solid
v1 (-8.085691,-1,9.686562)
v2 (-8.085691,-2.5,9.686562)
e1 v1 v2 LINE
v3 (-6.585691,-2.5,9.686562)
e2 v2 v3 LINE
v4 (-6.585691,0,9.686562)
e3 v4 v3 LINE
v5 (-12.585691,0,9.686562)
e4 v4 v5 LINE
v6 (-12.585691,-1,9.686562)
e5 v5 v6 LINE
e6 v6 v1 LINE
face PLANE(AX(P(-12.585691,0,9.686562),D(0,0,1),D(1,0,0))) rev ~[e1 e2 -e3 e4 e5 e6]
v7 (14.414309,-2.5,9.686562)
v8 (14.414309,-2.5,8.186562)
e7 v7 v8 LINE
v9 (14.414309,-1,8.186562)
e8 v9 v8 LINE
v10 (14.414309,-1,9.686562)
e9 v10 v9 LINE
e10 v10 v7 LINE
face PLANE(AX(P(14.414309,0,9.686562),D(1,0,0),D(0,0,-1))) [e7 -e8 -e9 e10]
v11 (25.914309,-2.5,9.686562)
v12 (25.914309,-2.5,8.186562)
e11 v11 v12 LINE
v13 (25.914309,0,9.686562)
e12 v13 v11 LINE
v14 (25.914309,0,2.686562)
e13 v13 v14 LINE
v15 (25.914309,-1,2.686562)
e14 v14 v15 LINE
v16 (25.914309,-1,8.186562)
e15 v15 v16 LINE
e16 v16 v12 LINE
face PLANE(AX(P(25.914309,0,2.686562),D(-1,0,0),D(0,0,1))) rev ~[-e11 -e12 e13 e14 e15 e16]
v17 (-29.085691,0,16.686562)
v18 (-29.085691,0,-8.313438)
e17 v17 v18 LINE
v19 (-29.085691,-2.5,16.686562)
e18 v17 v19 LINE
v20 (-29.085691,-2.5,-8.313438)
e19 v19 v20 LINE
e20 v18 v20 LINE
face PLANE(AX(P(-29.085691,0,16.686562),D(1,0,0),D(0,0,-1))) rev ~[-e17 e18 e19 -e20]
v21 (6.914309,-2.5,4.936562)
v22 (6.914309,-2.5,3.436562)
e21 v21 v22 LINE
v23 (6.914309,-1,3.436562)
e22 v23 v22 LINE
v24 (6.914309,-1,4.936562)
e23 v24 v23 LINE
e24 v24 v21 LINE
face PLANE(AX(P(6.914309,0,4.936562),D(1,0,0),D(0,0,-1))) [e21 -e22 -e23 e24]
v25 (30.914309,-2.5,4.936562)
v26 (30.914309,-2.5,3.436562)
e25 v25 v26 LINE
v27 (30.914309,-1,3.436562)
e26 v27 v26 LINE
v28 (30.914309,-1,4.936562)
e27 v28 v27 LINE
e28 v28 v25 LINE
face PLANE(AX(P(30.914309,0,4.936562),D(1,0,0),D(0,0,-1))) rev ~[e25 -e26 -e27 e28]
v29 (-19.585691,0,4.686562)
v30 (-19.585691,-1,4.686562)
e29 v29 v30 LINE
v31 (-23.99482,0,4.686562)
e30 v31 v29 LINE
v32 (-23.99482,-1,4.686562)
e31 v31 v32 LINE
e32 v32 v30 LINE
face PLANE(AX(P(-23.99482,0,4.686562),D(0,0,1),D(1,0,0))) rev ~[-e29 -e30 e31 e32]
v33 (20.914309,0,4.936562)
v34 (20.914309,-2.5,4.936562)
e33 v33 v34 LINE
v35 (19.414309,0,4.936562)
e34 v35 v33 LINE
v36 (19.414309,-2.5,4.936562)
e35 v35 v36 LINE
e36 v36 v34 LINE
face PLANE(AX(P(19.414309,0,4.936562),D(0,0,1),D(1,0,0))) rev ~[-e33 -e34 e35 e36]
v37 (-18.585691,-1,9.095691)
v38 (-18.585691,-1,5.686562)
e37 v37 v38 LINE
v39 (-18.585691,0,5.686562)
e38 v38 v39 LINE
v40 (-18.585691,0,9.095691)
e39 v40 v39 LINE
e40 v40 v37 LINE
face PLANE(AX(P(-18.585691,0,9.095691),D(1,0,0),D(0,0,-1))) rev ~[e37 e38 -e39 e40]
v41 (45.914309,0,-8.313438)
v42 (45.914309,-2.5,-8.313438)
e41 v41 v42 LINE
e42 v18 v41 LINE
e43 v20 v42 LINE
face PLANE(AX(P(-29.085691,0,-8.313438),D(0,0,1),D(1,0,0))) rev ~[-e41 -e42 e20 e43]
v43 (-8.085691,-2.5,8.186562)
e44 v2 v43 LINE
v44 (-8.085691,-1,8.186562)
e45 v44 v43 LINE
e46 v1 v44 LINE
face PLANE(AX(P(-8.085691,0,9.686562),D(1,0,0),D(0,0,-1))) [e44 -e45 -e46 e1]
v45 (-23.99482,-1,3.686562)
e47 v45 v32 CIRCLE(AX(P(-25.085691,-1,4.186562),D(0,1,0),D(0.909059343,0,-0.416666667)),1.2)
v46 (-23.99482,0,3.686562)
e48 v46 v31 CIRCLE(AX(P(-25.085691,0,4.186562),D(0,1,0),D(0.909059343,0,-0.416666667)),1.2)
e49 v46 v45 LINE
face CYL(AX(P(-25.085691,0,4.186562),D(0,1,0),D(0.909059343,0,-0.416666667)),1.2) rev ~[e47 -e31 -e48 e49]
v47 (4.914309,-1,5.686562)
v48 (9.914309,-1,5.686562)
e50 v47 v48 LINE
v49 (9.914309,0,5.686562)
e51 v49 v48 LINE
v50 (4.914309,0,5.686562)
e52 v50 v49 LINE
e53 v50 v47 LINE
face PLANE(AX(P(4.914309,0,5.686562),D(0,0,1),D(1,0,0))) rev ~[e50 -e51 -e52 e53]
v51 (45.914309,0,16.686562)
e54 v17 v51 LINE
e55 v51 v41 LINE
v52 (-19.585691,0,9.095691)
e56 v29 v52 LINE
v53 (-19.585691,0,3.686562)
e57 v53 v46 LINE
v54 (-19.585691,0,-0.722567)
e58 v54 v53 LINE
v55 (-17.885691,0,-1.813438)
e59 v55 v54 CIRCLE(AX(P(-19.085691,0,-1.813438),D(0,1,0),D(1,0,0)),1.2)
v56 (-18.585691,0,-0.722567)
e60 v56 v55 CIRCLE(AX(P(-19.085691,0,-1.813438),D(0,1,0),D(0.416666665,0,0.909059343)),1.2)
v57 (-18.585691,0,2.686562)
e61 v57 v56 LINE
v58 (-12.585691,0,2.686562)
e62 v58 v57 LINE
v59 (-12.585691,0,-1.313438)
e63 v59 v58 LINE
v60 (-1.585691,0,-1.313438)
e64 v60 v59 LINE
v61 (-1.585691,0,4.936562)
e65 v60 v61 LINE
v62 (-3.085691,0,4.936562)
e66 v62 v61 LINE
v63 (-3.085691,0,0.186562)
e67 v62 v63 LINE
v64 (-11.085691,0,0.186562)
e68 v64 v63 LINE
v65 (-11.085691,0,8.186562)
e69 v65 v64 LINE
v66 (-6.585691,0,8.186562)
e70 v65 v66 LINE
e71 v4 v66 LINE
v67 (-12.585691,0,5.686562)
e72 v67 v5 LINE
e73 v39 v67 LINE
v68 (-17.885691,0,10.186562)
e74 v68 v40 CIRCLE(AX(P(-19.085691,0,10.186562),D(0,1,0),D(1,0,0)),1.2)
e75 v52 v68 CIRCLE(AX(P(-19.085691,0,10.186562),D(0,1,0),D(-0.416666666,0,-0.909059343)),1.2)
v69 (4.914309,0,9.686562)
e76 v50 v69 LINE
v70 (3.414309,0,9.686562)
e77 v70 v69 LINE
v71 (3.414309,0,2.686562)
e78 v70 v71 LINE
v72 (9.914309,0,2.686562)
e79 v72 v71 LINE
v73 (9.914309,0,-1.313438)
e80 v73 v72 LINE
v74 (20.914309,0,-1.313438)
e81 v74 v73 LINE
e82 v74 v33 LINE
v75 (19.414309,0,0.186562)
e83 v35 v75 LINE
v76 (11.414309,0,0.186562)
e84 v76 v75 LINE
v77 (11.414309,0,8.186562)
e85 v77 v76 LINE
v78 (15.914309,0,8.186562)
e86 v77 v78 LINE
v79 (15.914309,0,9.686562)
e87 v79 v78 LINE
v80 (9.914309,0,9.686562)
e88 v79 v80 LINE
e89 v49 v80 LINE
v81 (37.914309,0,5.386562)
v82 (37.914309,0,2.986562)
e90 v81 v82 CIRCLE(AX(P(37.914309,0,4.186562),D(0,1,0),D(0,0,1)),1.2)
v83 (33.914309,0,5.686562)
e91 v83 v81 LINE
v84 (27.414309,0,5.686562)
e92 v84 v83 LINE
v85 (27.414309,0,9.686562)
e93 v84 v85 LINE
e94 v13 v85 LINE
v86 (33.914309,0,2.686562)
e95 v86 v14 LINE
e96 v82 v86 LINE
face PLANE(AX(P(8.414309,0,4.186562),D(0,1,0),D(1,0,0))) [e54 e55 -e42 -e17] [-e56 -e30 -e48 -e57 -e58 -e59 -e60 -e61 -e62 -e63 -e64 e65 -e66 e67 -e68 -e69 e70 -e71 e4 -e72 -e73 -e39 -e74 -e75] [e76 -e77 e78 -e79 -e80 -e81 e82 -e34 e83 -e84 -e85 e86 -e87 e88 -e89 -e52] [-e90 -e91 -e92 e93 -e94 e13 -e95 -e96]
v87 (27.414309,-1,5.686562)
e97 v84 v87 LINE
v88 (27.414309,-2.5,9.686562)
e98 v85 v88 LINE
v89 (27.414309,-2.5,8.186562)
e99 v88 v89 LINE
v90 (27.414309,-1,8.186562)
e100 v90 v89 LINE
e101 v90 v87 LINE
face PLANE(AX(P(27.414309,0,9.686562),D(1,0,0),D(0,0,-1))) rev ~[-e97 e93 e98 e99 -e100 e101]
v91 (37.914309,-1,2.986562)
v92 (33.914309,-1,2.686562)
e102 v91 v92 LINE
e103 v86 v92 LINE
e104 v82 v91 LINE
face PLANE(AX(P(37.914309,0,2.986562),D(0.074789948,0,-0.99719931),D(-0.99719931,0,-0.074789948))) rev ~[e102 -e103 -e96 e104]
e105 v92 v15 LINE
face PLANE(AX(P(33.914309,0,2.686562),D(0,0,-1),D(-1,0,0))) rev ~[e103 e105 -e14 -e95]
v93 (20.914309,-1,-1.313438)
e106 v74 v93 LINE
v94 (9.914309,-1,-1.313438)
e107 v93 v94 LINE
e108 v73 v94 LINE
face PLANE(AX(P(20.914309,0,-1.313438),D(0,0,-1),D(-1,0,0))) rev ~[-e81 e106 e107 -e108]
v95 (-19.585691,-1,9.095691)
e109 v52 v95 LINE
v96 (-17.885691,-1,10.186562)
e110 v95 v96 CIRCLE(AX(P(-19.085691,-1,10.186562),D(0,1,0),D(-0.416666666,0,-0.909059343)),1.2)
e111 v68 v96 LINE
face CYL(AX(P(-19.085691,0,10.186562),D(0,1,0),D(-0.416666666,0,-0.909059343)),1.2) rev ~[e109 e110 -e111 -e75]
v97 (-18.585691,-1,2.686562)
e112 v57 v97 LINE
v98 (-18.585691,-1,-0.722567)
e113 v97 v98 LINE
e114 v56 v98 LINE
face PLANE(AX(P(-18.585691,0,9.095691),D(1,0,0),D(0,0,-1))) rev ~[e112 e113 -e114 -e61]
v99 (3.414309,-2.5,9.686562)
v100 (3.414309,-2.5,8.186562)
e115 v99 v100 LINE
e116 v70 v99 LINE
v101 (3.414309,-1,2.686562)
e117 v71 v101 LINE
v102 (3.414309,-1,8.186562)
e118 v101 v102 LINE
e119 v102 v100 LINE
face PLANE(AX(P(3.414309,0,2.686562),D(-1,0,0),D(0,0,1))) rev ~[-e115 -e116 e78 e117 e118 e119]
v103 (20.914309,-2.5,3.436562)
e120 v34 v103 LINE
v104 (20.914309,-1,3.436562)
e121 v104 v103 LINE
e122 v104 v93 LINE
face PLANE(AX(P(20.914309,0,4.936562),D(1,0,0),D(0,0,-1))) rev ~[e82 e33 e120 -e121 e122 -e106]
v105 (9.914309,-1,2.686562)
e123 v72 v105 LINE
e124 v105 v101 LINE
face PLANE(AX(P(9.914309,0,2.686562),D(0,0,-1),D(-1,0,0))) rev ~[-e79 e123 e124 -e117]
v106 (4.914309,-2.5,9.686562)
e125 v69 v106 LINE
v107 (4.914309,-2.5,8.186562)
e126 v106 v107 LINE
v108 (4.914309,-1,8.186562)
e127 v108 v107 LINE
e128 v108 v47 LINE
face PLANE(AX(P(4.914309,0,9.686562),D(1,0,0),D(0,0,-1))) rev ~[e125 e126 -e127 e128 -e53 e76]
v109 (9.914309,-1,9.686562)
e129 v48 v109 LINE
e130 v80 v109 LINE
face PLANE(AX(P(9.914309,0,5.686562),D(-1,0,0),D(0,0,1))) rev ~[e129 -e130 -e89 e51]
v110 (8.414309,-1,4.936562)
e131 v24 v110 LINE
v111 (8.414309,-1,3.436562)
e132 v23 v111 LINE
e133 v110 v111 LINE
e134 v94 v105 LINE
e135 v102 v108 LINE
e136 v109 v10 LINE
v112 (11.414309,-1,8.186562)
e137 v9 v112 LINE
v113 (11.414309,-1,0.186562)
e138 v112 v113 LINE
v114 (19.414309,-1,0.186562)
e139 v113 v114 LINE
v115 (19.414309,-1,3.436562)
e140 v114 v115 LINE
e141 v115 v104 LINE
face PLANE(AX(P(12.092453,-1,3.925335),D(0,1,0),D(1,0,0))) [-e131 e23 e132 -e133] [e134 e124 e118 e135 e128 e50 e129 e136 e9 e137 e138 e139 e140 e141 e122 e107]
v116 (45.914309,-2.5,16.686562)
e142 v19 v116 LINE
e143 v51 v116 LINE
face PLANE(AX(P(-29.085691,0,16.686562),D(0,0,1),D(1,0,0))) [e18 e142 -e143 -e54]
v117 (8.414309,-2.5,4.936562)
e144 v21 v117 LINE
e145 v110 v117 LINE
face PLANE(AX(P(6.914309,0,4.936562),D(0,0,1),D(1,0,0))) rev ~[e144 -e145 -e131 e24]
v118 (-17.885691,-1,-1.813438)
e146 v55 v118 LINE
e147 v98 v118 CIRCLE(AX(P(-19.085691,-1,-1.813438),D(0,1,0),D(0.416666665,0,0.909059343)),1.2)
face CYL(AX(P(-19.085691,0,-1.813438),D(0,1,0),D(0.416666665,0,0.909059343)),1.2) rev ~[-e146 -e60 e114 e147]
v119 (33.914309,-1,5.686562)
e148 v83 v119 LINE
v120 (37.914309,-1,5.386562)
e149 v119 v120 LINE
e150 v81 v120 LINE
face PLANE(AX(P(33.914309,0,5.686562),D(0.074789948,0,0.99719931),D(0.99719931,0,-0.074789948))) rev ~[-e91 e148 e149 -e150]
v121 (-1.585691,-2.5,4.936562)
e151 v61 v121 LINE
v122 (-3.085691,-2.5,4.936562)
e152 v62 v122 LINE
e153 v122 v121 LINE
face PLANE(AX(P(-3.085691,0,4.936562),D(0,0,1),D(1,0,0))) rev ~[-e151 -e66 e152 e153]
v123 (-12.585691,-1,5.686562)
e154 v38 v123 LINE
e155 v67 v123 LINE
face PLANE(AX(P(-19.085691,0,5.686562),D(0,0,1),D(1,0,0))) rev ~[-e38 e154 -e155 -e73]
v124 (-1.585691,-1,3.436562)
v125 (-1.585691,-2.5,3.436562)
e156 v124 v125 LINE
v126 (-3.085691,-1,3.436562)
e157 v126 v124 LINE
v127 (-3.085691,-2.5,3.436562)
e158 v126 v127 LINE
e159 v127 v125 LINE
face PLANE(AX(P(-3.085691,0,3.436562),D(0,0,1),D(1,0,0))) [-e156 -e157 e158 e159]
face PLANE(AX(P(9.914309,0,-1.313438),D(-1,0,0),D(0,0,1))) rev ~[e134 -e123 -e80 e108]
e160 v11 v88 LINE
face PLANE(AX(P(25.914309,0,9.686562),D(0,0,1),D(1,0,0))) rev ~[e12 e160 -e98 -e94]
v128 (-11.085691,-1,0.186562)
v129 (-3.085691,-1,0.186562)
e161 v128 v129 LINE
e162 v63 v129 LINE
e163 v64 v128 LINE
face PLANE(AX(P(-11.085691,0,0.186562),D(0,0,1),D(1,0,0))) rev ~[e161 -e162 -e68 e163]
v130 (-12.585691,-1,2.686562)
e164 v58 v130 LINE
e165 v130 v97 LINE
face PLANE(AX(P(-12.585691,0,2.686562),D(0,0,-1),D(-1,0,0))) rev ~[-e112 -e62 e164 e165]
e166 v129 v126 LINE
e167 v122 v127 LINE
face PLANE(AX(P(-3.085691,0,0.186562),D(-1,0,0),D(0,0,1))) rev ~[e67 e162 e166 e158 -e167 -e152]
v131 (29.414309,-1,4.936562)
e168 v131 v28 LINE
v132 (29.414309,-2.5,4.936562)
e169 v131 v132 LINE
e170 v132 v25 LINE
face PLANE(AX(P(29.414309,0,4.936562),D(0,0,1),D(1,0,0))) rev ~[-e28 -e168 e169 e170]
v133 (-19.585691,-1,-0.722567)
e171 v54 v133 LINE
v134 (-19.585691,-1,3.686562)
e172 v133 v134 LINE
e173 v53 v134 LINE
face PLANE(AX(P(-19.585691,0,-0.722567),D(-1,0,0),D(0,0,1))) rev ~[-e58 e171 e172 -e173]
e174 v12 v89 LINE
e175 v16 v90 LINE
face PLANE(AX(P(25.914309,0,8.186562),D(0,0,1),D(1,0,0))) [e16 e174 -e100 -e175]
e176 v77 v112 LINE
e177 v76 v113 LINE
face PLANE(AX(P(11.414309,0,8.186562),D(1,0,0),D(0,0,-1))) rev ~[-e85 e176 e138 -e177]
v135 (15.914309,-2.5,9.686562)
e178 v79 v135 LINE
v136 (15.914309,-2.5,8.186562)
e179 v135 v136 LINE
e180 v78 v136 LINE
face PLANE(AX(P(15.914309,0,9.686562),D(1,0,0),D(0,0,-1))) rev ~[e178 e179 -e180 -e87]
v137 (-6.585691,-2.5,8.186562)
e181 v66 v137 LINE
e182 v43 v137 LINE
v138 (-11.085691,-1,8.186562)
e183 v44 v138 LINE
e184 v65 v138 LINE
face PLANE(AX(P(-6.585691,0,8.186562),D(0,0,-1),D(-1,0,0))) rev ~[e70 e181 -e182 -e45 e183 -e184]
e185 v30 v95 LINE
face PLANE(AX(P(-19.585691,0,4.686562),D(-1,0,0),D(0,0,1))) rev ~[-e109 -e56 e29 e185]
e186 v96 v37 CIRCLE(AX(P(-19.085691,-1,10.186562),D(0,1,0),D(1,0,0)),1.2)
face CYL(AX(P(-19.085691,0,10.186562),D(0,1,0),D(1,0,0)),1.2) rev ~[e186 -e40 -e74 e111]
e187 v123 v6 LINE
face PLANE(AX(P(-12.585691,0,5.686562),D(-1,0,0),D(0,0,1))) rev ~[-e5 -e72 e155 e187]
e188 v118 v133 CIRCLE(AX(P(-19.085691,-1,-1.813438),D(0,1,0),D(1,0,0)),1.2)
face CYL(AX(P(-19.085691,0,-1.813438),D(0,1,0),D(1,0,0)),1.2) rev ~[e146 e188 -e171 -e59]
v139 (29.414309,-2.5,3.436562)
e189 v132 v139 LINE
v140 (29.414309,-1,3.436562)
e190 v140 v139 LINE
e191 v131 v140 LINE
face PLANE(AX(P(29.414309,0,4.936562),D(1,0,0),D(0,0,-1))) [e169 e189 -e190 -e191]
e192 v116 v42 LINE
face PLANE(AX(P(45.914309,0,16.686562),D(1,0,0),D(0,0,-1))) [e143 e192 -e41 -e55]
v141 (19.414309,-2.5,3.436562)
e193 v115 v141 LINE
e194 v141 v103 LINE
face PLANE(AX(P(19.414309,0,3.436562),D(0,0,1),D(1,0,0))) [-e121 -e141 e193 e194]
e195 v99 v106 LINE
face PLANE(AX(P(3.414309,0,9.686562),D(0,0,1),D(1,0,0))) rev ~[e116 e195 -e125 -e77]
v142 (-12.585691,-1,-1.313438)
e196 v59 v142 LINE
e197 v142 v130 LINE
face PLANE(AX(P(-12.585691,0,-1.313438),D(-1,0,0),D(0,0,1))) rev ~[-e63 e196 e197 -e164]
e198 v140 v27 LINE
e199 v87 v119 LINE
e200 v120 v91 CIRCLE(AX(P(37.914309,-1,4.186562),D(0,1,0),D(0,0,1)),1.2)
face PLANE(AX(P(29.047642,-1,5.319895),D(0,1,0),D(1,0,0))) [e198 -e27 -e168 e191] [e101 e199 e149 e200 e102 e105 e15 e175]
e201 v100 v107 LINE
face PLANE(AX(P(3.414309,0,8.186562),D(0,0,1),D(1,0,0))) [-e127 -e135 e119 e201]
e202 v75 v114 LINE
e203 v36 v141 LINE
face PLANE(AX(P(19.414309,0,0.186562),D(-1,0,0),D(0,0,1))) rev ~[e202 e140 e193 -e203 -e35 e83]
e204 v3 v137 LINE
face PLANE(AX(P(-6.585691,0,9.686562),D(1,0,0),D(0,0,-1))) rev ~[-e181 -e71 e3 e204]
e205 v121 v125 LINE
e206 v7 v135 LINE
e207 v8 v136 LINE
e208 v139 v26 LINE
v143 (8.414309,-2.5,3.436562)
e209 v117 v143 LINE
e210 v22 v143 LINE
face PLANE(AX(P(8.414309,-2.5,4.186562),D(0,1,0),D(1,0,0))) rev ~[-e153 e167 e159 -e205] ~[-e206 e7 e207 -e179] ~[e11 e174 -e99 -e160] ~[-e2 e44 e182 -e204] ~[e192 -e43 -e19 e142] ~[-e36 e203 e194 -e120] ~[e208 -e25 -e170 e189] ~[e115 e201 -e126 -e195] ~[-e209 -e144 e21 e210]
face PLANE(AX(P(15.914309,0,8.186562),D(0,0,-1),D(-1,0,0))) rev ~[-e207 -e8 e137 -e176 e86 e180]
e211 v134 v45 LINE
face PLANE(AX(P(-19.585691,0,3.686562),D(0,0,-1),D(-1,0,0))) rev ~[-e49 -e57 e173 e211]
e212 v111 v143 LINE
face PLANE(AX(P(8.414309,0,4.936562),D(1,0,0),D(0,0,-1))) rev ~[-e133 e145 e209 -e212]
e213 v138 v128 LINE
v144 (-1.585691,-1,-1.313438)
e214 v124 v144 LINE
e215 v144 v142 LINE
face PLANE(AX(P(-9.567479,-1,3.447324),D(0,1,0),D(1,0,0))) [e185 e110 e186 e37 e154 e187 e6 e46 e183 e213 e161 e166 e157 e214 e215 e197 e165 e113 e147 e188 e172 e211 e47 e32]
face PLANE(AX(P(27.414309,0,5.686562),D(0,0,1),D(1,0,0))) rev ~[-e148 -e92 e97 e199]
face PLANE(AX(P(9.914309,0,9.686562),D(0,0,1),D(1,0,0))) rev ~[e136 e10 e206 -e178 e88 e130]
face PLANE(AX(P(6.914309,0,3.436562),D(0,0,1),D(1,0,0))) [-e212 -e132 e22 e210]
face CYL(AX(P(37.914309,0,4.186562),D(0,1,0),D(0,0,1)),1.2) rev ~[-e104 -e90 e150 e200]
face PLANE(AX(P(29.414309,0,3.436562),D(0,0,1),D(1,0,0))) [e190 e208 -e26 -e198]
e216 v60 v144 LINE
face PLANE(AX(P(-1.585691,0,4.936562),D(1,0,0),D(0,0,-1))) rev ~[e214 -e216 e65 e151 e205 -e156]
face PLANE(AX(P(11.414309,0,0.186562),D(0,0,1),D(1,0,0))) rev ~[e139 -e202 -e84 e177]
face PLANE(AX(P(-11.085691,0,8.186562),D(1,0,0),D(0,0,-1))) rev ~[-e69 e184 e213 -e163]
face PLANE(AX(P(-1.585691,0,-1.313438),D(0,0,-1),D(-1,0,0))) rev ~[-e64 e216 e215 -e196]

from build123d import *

# Parameters (mm, degrees)
SKETCH2_W           = 75
SKETCH2_H           = 25
BOSS_EXTRUDE1_DEPTH = 2.5
CUT_EXTRUDE1_DEPTH  = 1
SKETCH3_W           = 1.5
SKETCH3_H           = 1.5
CUT_EXTRUDE2_DEPTH  = 3.5
SKETCH4_W           = 0.5
SKETCH4_H           = 1
CUT_EXTRUDE3_DEPTH  = 1


with BuildPart() as part:
    # Sketch2 → Boss-Extrude1 (new body)
    with BuildSketch(Plane(origin=(0, 0, 0), x_dir=(1, 0, 0), z_dir=(0, 1, 0))):
        with Locations((8.414308894, -4.186562074)):
            Rectangle(SKETCH2_W, SKETCH2_H)
    extrude(amount=-BOSS_EXTRUDE1_DEPTH)

    # Sketch1 → Cut-Extrude1 (cut)
    with BuildSketch(Plane(origin=(0, 0, 0), x_dir=(1, 0, 0), z_dir=(0, 1, 0))):
        Polygon((-12.585691106, -2.686562074), (-19.085691106, -2.686562074), (-19.085691106, -5.686562074), (-12.585691106, -5.686562074), (-12.585691106, -9.686562074), (-6.585691106, -9.686562074), (-6.585691106, -8.186562074), (-11.085691106, -8.186562074), (-11.085691106, -0.186562074), (-3.085691106, -0.186562074), (-3.085691106, -4.936562074), (-1.585691106, -4.936562074), (-1.585691106, 1.313437926), (-12.585691106, 1.313437926), align=None)
        Polygon((9.914308894, -2.686562074), (3.414308894, -2.686562074), (3.414308894, -9.686562074), (4.914308894, -9.686562074), (4.914308894, -5.686562074), (9.914308894, -5.686562074), (9.914308894, -9.686562074), (15.914308894, -9.686562074), (15.914308894, -8.186562074), (11.414308894, -8.186562074), (11.414308894, -0.186562074), (19.414308894, -0.186562074), (19.414308894, -4.936562074), (20.914308894, -4.936562074), (20.914308894, 1.313437926), (9.914308894, 1.313437926), align=None)
        Polygon((33.914308894, -2.686562074), (25.914308894, -2.686562074), (25.914308894, -9.686562074), (27.414308894, -9.686562074), (27.414308894, -5.686562074), (33.914308894, -5.686562074), align=None)
    extrude(amount=-CUT_EXTRUDE1_DEPTH, mode=Mode.SUBTRACT)

    # Sketch3 → Cut-Extrude2 (cut, through all)
    with BuildSketch(Plane(origin=(0, 0, 0), x_dir=(1, 0, 0), z_dir=(0, 1, 0))):
        with Locations((-7.335691106, -8.936562074)):
            Rectangle(SKETCH3_W, SKETCH3_H)
        with Locations((-2.335691106, -4.186562074)):
            Rectangle(SKETCH3_W, SKETCH3_H)
        with Locations((4.164308894, -8.936562074)):
            Rectangle(SKETCH3_W, SKETCH3_H)
        with Locations((30.164308894, -4.186562074)):
            Rectangle(SKETCH3_W, SKETCH3_H)
        with Locations((7.664308894, -4.186562074)):
            Rectangle(SKETCH3_W, SKETCH3_H)
        with Locations((15.164308894, -8.936562074)):
            Rectangle(SKETCH3_W, SKETCH3_H)
        with Locations((20.164308894, -4.186562074)):
            Rectangle(SKETCH3_W, SKETCH3_H)
        with Locations((26.664308894, -8.936562074)):
            Rectangle(SKETCH3_W, SKETCH3_H)
    extrude(amount=-CUT_EXTRUDE2_DEPTH, mode=Mode.SUBTRACT)

    # Sketch4 → Cut-Extrude3 (cut)
    with BuildSketch(Plane(origin=(0, 0, 0), x_dir=(1, 0, 0), z_dir=(0, 1, 0))):
        with BuildLine():
            ThreePointArc((37.914308894, -5.386562074), (39.114308894, -4.186562074), (37.914308894, -2.986562074))
            Line((37.914308894, -2.986562074), (33.914308894, -2.686562074))
            Line((33.914308894, -2.686562074), (33.914308894, -5.686562074))
            Line((33.914308894, -5.686562074), (37.914308894, -5.386562074))
        make_face()
        with BuildLine():
            ThreePointArc((-17.885691106, 1.813437926), (-19.733765176, 2.82338842), (-19.585691106, 0.722566715))
            Line((-19.585691106, 0.722566715), (-19.585691106, 1.813437926))
            ThreePointArc((-19.585691106, 1.813437926), (-19.085691106, 2.313437926), (-18.585691106, 1.813437926))
            Line((-18.585691106, 1.813437926), (-18.585691106, 0.722566715))
            ThreePointArc((-18.585691106, 0.722566715), (-18.075740612, 1.165363856), (-17.885691106, 1.813437926))
        make_face()
        with BuildLine():
            Line((-19.585691106, 1.813437926), (-19.585691106, 0.722566715))
            ThreePointArc((-19.585691106, 0.722566715), (-19.085691106, 0.613437926), (-18.585691106, 0.722566715))
            Line((-18.585691106, 0.722566715), (-18.585691106, 1.813437926))
            ThreePointArc((-18.585691106, 1.813437926), (-19.085691106, 2.313437926), (-19.585691106, 1.813437926))
        make_face()
        with BuildLine():
            Line((-19.585691106, 0.722566715), (-19.585691106, -3.686562074))
            Line((-19.585691106, -3.686562074), (-19.085691106, -3.686562074))
            Line((-19.085691106, -3.686562074), (-19.085691106, -2.686562074))
            Line((-19.085691106, -2.686562074), (-18.585691106, -2.686562074))
            Line((-18.585691106, -2.686562074), (-18.585691106, 0.722566715))
            ThreePointArc((-18.585691106, 0.722566715), (-19.085691106, 0.613437926), (-19.585691106, 0.722566715))
        make_face()
        with BuildLine():
            Line((-23.994819895, -4.686562074), (-25.085691106, -4.686562074))
            ThreePointArc((-25.085691106, -4.686562074), (-25.585691106, -4.186562074), (-25.085691106, -3.686562074))
            Line((-25.085691106, -3.686562074), (-23.994819895, -3.686562074))
            ThreePointArc((-23.994819895, -3.686562074), (-26.285691106, -4.186562074), (-23.994819895, -4.686562074))
        make_face()
        with BuildLine():
            ThreePointArc((-25.085691106, -3.686562074), (-25.585691106, -4.186562074), (-25.085691106, -4.686562074))
            Line((-25.085691106, -4.686562074), (-23.994819895, -4.686562074))
            ThreePointArc((-23.994819895, -4.686562074), (-23.913290694, -4.442447347), (-23.885691106, -4.186562074))
            ThreePointArc((-23.885691106, -4.186562074), (-23.913290694, -3.9306768), (-23.994819895, -3.686562074))
            Line((-23.994819895, -3.686562074), (-25.085691106, -3.686562074))
        make_face()
        with BuildLine():
            ThreePointArc((-23.885691106, -4.186562074), (-23.913290694, -4.442447347), (-23.994819895, -4.686562074))
            Line((-23.994819895, -4.686562074), (-19.585691106, -4.686562074))
            Line((-19.585691106, -4.686562074), (-19.585691106, -3.686562074))
            Line((-19.585691106, -3.686562074), (-23.994819895, -3.686562074))
            ThreePointArc((-23.994819895, -3.686562074), (-23.913290694, -3.9306768), (-23.885691106, -4.186562074))
        make_face()
        with Locations((-19.335691106, -4.186562074)):
            Rectangle(SKETCH4_W, SKETCH4_H)
        with BuildLine():
            Line((-19.085691106, -3.686562074), (-19.085691106, -4.686562074))
            ThreePointArc((-19.085691106, -4.686562074), (-18.732137716, -4.540115464), (-18.585691106, -4.186562074))
            ThreePointArc((-18.585691106, -4.186562074), (-18.732137716, -3.833008683), (-19.085691106, -3.686562074))
        make_face()
        with BuildLine():
            ThreePointArc((-19.085691106, -3.686562074), (-18.732137716, -3.833008683), (-18.585691106, -4.186562074))
            Line((-18.585691106, -4.186562074), (-18.585691106, -2.686562074))
            Line((-18.585691106, -2.686562074), (-19.085691106, -2.686562074))
            Line((-19.085691106, -2.686562074), (-19.085691106, -3.686562074))
        make_face()
        with BuildLine():
            Line((-19.585691106, -10.186562074), (-19.585691106, -9.095690862))
            ThreePointArc((-19.585691106, -9.095690862), (-19.733765176, -11.196512568), (-17.885691106, -10.186562074))
            ThreePointArc((-17.885691106, -10.186562074), (-18.075740612, -9.538488004), (-18.585691106, -9.095690862))
            Line((-18.585691106, -9.095690862), (-18.585691106, -10.186562074))
            ThreePointArc((-18.585691106, -10.186562074), (-19.085691106, -10.686562074), (-19.585691106, -10.186562074))
        make_face()
        with BuildLine():
            ThreePointArc((-18.585691106, -9.095690862), (-19.085691106, -8.986562074), (-19.585691106, -9.095690862))
            Line((-19.585691106, -9.095690862), (-19.585691106, -10.186562074))
            ThreePointArc((-19.585691106, -10.186562074), (-19.085691106, -10.686562074), (-18.585691106, -10.186562074))
            Line((-18.585691106, -10.186562074), (-18.585691106, -9.095690862))
        make_face()
        with BuildLine():
            Line((-19.085691106, -4.686562074), (-19.585691106, -4.686562074))
            Line((-19.585691106, -4.686562074), (-19.585691106, -9.095690862))
            ThreePointArc((-19.585691106, -9.095690862), (-19.085691106, -8.986562074), (-18.585691106, -9.095690862))
            Line((-18.585691106, -9.095690862), (-18.585691106, -5.686562074))
            Line((-18.585691106, -5.686562074), (-19.085691106, -5.686562074))
            Line((-19.085691106, -5.686562074), (-19.085691106, -4.686562074))
        make_face()
        with BuildLine():
            ThreePointArc((-18.585691106, -4.186562074), (-18.732137716, -4.540115464), (-19.085691106, -4.686562074))
            Line((-19.085691106, -4.686562074), (-19.085691106, -5.686562074))
            Line((-19.085691106, -5.686562074), (-18.585691106, -5.686562074))
            Line((-18.585691106, -5.686562074), (-18.585691106, -4.186562074))
        make_face()
    extrude(amount=-CUT_EXTRUDE3_DEPTH, mode=Mode.SUBTRACT)


solid = part.part
